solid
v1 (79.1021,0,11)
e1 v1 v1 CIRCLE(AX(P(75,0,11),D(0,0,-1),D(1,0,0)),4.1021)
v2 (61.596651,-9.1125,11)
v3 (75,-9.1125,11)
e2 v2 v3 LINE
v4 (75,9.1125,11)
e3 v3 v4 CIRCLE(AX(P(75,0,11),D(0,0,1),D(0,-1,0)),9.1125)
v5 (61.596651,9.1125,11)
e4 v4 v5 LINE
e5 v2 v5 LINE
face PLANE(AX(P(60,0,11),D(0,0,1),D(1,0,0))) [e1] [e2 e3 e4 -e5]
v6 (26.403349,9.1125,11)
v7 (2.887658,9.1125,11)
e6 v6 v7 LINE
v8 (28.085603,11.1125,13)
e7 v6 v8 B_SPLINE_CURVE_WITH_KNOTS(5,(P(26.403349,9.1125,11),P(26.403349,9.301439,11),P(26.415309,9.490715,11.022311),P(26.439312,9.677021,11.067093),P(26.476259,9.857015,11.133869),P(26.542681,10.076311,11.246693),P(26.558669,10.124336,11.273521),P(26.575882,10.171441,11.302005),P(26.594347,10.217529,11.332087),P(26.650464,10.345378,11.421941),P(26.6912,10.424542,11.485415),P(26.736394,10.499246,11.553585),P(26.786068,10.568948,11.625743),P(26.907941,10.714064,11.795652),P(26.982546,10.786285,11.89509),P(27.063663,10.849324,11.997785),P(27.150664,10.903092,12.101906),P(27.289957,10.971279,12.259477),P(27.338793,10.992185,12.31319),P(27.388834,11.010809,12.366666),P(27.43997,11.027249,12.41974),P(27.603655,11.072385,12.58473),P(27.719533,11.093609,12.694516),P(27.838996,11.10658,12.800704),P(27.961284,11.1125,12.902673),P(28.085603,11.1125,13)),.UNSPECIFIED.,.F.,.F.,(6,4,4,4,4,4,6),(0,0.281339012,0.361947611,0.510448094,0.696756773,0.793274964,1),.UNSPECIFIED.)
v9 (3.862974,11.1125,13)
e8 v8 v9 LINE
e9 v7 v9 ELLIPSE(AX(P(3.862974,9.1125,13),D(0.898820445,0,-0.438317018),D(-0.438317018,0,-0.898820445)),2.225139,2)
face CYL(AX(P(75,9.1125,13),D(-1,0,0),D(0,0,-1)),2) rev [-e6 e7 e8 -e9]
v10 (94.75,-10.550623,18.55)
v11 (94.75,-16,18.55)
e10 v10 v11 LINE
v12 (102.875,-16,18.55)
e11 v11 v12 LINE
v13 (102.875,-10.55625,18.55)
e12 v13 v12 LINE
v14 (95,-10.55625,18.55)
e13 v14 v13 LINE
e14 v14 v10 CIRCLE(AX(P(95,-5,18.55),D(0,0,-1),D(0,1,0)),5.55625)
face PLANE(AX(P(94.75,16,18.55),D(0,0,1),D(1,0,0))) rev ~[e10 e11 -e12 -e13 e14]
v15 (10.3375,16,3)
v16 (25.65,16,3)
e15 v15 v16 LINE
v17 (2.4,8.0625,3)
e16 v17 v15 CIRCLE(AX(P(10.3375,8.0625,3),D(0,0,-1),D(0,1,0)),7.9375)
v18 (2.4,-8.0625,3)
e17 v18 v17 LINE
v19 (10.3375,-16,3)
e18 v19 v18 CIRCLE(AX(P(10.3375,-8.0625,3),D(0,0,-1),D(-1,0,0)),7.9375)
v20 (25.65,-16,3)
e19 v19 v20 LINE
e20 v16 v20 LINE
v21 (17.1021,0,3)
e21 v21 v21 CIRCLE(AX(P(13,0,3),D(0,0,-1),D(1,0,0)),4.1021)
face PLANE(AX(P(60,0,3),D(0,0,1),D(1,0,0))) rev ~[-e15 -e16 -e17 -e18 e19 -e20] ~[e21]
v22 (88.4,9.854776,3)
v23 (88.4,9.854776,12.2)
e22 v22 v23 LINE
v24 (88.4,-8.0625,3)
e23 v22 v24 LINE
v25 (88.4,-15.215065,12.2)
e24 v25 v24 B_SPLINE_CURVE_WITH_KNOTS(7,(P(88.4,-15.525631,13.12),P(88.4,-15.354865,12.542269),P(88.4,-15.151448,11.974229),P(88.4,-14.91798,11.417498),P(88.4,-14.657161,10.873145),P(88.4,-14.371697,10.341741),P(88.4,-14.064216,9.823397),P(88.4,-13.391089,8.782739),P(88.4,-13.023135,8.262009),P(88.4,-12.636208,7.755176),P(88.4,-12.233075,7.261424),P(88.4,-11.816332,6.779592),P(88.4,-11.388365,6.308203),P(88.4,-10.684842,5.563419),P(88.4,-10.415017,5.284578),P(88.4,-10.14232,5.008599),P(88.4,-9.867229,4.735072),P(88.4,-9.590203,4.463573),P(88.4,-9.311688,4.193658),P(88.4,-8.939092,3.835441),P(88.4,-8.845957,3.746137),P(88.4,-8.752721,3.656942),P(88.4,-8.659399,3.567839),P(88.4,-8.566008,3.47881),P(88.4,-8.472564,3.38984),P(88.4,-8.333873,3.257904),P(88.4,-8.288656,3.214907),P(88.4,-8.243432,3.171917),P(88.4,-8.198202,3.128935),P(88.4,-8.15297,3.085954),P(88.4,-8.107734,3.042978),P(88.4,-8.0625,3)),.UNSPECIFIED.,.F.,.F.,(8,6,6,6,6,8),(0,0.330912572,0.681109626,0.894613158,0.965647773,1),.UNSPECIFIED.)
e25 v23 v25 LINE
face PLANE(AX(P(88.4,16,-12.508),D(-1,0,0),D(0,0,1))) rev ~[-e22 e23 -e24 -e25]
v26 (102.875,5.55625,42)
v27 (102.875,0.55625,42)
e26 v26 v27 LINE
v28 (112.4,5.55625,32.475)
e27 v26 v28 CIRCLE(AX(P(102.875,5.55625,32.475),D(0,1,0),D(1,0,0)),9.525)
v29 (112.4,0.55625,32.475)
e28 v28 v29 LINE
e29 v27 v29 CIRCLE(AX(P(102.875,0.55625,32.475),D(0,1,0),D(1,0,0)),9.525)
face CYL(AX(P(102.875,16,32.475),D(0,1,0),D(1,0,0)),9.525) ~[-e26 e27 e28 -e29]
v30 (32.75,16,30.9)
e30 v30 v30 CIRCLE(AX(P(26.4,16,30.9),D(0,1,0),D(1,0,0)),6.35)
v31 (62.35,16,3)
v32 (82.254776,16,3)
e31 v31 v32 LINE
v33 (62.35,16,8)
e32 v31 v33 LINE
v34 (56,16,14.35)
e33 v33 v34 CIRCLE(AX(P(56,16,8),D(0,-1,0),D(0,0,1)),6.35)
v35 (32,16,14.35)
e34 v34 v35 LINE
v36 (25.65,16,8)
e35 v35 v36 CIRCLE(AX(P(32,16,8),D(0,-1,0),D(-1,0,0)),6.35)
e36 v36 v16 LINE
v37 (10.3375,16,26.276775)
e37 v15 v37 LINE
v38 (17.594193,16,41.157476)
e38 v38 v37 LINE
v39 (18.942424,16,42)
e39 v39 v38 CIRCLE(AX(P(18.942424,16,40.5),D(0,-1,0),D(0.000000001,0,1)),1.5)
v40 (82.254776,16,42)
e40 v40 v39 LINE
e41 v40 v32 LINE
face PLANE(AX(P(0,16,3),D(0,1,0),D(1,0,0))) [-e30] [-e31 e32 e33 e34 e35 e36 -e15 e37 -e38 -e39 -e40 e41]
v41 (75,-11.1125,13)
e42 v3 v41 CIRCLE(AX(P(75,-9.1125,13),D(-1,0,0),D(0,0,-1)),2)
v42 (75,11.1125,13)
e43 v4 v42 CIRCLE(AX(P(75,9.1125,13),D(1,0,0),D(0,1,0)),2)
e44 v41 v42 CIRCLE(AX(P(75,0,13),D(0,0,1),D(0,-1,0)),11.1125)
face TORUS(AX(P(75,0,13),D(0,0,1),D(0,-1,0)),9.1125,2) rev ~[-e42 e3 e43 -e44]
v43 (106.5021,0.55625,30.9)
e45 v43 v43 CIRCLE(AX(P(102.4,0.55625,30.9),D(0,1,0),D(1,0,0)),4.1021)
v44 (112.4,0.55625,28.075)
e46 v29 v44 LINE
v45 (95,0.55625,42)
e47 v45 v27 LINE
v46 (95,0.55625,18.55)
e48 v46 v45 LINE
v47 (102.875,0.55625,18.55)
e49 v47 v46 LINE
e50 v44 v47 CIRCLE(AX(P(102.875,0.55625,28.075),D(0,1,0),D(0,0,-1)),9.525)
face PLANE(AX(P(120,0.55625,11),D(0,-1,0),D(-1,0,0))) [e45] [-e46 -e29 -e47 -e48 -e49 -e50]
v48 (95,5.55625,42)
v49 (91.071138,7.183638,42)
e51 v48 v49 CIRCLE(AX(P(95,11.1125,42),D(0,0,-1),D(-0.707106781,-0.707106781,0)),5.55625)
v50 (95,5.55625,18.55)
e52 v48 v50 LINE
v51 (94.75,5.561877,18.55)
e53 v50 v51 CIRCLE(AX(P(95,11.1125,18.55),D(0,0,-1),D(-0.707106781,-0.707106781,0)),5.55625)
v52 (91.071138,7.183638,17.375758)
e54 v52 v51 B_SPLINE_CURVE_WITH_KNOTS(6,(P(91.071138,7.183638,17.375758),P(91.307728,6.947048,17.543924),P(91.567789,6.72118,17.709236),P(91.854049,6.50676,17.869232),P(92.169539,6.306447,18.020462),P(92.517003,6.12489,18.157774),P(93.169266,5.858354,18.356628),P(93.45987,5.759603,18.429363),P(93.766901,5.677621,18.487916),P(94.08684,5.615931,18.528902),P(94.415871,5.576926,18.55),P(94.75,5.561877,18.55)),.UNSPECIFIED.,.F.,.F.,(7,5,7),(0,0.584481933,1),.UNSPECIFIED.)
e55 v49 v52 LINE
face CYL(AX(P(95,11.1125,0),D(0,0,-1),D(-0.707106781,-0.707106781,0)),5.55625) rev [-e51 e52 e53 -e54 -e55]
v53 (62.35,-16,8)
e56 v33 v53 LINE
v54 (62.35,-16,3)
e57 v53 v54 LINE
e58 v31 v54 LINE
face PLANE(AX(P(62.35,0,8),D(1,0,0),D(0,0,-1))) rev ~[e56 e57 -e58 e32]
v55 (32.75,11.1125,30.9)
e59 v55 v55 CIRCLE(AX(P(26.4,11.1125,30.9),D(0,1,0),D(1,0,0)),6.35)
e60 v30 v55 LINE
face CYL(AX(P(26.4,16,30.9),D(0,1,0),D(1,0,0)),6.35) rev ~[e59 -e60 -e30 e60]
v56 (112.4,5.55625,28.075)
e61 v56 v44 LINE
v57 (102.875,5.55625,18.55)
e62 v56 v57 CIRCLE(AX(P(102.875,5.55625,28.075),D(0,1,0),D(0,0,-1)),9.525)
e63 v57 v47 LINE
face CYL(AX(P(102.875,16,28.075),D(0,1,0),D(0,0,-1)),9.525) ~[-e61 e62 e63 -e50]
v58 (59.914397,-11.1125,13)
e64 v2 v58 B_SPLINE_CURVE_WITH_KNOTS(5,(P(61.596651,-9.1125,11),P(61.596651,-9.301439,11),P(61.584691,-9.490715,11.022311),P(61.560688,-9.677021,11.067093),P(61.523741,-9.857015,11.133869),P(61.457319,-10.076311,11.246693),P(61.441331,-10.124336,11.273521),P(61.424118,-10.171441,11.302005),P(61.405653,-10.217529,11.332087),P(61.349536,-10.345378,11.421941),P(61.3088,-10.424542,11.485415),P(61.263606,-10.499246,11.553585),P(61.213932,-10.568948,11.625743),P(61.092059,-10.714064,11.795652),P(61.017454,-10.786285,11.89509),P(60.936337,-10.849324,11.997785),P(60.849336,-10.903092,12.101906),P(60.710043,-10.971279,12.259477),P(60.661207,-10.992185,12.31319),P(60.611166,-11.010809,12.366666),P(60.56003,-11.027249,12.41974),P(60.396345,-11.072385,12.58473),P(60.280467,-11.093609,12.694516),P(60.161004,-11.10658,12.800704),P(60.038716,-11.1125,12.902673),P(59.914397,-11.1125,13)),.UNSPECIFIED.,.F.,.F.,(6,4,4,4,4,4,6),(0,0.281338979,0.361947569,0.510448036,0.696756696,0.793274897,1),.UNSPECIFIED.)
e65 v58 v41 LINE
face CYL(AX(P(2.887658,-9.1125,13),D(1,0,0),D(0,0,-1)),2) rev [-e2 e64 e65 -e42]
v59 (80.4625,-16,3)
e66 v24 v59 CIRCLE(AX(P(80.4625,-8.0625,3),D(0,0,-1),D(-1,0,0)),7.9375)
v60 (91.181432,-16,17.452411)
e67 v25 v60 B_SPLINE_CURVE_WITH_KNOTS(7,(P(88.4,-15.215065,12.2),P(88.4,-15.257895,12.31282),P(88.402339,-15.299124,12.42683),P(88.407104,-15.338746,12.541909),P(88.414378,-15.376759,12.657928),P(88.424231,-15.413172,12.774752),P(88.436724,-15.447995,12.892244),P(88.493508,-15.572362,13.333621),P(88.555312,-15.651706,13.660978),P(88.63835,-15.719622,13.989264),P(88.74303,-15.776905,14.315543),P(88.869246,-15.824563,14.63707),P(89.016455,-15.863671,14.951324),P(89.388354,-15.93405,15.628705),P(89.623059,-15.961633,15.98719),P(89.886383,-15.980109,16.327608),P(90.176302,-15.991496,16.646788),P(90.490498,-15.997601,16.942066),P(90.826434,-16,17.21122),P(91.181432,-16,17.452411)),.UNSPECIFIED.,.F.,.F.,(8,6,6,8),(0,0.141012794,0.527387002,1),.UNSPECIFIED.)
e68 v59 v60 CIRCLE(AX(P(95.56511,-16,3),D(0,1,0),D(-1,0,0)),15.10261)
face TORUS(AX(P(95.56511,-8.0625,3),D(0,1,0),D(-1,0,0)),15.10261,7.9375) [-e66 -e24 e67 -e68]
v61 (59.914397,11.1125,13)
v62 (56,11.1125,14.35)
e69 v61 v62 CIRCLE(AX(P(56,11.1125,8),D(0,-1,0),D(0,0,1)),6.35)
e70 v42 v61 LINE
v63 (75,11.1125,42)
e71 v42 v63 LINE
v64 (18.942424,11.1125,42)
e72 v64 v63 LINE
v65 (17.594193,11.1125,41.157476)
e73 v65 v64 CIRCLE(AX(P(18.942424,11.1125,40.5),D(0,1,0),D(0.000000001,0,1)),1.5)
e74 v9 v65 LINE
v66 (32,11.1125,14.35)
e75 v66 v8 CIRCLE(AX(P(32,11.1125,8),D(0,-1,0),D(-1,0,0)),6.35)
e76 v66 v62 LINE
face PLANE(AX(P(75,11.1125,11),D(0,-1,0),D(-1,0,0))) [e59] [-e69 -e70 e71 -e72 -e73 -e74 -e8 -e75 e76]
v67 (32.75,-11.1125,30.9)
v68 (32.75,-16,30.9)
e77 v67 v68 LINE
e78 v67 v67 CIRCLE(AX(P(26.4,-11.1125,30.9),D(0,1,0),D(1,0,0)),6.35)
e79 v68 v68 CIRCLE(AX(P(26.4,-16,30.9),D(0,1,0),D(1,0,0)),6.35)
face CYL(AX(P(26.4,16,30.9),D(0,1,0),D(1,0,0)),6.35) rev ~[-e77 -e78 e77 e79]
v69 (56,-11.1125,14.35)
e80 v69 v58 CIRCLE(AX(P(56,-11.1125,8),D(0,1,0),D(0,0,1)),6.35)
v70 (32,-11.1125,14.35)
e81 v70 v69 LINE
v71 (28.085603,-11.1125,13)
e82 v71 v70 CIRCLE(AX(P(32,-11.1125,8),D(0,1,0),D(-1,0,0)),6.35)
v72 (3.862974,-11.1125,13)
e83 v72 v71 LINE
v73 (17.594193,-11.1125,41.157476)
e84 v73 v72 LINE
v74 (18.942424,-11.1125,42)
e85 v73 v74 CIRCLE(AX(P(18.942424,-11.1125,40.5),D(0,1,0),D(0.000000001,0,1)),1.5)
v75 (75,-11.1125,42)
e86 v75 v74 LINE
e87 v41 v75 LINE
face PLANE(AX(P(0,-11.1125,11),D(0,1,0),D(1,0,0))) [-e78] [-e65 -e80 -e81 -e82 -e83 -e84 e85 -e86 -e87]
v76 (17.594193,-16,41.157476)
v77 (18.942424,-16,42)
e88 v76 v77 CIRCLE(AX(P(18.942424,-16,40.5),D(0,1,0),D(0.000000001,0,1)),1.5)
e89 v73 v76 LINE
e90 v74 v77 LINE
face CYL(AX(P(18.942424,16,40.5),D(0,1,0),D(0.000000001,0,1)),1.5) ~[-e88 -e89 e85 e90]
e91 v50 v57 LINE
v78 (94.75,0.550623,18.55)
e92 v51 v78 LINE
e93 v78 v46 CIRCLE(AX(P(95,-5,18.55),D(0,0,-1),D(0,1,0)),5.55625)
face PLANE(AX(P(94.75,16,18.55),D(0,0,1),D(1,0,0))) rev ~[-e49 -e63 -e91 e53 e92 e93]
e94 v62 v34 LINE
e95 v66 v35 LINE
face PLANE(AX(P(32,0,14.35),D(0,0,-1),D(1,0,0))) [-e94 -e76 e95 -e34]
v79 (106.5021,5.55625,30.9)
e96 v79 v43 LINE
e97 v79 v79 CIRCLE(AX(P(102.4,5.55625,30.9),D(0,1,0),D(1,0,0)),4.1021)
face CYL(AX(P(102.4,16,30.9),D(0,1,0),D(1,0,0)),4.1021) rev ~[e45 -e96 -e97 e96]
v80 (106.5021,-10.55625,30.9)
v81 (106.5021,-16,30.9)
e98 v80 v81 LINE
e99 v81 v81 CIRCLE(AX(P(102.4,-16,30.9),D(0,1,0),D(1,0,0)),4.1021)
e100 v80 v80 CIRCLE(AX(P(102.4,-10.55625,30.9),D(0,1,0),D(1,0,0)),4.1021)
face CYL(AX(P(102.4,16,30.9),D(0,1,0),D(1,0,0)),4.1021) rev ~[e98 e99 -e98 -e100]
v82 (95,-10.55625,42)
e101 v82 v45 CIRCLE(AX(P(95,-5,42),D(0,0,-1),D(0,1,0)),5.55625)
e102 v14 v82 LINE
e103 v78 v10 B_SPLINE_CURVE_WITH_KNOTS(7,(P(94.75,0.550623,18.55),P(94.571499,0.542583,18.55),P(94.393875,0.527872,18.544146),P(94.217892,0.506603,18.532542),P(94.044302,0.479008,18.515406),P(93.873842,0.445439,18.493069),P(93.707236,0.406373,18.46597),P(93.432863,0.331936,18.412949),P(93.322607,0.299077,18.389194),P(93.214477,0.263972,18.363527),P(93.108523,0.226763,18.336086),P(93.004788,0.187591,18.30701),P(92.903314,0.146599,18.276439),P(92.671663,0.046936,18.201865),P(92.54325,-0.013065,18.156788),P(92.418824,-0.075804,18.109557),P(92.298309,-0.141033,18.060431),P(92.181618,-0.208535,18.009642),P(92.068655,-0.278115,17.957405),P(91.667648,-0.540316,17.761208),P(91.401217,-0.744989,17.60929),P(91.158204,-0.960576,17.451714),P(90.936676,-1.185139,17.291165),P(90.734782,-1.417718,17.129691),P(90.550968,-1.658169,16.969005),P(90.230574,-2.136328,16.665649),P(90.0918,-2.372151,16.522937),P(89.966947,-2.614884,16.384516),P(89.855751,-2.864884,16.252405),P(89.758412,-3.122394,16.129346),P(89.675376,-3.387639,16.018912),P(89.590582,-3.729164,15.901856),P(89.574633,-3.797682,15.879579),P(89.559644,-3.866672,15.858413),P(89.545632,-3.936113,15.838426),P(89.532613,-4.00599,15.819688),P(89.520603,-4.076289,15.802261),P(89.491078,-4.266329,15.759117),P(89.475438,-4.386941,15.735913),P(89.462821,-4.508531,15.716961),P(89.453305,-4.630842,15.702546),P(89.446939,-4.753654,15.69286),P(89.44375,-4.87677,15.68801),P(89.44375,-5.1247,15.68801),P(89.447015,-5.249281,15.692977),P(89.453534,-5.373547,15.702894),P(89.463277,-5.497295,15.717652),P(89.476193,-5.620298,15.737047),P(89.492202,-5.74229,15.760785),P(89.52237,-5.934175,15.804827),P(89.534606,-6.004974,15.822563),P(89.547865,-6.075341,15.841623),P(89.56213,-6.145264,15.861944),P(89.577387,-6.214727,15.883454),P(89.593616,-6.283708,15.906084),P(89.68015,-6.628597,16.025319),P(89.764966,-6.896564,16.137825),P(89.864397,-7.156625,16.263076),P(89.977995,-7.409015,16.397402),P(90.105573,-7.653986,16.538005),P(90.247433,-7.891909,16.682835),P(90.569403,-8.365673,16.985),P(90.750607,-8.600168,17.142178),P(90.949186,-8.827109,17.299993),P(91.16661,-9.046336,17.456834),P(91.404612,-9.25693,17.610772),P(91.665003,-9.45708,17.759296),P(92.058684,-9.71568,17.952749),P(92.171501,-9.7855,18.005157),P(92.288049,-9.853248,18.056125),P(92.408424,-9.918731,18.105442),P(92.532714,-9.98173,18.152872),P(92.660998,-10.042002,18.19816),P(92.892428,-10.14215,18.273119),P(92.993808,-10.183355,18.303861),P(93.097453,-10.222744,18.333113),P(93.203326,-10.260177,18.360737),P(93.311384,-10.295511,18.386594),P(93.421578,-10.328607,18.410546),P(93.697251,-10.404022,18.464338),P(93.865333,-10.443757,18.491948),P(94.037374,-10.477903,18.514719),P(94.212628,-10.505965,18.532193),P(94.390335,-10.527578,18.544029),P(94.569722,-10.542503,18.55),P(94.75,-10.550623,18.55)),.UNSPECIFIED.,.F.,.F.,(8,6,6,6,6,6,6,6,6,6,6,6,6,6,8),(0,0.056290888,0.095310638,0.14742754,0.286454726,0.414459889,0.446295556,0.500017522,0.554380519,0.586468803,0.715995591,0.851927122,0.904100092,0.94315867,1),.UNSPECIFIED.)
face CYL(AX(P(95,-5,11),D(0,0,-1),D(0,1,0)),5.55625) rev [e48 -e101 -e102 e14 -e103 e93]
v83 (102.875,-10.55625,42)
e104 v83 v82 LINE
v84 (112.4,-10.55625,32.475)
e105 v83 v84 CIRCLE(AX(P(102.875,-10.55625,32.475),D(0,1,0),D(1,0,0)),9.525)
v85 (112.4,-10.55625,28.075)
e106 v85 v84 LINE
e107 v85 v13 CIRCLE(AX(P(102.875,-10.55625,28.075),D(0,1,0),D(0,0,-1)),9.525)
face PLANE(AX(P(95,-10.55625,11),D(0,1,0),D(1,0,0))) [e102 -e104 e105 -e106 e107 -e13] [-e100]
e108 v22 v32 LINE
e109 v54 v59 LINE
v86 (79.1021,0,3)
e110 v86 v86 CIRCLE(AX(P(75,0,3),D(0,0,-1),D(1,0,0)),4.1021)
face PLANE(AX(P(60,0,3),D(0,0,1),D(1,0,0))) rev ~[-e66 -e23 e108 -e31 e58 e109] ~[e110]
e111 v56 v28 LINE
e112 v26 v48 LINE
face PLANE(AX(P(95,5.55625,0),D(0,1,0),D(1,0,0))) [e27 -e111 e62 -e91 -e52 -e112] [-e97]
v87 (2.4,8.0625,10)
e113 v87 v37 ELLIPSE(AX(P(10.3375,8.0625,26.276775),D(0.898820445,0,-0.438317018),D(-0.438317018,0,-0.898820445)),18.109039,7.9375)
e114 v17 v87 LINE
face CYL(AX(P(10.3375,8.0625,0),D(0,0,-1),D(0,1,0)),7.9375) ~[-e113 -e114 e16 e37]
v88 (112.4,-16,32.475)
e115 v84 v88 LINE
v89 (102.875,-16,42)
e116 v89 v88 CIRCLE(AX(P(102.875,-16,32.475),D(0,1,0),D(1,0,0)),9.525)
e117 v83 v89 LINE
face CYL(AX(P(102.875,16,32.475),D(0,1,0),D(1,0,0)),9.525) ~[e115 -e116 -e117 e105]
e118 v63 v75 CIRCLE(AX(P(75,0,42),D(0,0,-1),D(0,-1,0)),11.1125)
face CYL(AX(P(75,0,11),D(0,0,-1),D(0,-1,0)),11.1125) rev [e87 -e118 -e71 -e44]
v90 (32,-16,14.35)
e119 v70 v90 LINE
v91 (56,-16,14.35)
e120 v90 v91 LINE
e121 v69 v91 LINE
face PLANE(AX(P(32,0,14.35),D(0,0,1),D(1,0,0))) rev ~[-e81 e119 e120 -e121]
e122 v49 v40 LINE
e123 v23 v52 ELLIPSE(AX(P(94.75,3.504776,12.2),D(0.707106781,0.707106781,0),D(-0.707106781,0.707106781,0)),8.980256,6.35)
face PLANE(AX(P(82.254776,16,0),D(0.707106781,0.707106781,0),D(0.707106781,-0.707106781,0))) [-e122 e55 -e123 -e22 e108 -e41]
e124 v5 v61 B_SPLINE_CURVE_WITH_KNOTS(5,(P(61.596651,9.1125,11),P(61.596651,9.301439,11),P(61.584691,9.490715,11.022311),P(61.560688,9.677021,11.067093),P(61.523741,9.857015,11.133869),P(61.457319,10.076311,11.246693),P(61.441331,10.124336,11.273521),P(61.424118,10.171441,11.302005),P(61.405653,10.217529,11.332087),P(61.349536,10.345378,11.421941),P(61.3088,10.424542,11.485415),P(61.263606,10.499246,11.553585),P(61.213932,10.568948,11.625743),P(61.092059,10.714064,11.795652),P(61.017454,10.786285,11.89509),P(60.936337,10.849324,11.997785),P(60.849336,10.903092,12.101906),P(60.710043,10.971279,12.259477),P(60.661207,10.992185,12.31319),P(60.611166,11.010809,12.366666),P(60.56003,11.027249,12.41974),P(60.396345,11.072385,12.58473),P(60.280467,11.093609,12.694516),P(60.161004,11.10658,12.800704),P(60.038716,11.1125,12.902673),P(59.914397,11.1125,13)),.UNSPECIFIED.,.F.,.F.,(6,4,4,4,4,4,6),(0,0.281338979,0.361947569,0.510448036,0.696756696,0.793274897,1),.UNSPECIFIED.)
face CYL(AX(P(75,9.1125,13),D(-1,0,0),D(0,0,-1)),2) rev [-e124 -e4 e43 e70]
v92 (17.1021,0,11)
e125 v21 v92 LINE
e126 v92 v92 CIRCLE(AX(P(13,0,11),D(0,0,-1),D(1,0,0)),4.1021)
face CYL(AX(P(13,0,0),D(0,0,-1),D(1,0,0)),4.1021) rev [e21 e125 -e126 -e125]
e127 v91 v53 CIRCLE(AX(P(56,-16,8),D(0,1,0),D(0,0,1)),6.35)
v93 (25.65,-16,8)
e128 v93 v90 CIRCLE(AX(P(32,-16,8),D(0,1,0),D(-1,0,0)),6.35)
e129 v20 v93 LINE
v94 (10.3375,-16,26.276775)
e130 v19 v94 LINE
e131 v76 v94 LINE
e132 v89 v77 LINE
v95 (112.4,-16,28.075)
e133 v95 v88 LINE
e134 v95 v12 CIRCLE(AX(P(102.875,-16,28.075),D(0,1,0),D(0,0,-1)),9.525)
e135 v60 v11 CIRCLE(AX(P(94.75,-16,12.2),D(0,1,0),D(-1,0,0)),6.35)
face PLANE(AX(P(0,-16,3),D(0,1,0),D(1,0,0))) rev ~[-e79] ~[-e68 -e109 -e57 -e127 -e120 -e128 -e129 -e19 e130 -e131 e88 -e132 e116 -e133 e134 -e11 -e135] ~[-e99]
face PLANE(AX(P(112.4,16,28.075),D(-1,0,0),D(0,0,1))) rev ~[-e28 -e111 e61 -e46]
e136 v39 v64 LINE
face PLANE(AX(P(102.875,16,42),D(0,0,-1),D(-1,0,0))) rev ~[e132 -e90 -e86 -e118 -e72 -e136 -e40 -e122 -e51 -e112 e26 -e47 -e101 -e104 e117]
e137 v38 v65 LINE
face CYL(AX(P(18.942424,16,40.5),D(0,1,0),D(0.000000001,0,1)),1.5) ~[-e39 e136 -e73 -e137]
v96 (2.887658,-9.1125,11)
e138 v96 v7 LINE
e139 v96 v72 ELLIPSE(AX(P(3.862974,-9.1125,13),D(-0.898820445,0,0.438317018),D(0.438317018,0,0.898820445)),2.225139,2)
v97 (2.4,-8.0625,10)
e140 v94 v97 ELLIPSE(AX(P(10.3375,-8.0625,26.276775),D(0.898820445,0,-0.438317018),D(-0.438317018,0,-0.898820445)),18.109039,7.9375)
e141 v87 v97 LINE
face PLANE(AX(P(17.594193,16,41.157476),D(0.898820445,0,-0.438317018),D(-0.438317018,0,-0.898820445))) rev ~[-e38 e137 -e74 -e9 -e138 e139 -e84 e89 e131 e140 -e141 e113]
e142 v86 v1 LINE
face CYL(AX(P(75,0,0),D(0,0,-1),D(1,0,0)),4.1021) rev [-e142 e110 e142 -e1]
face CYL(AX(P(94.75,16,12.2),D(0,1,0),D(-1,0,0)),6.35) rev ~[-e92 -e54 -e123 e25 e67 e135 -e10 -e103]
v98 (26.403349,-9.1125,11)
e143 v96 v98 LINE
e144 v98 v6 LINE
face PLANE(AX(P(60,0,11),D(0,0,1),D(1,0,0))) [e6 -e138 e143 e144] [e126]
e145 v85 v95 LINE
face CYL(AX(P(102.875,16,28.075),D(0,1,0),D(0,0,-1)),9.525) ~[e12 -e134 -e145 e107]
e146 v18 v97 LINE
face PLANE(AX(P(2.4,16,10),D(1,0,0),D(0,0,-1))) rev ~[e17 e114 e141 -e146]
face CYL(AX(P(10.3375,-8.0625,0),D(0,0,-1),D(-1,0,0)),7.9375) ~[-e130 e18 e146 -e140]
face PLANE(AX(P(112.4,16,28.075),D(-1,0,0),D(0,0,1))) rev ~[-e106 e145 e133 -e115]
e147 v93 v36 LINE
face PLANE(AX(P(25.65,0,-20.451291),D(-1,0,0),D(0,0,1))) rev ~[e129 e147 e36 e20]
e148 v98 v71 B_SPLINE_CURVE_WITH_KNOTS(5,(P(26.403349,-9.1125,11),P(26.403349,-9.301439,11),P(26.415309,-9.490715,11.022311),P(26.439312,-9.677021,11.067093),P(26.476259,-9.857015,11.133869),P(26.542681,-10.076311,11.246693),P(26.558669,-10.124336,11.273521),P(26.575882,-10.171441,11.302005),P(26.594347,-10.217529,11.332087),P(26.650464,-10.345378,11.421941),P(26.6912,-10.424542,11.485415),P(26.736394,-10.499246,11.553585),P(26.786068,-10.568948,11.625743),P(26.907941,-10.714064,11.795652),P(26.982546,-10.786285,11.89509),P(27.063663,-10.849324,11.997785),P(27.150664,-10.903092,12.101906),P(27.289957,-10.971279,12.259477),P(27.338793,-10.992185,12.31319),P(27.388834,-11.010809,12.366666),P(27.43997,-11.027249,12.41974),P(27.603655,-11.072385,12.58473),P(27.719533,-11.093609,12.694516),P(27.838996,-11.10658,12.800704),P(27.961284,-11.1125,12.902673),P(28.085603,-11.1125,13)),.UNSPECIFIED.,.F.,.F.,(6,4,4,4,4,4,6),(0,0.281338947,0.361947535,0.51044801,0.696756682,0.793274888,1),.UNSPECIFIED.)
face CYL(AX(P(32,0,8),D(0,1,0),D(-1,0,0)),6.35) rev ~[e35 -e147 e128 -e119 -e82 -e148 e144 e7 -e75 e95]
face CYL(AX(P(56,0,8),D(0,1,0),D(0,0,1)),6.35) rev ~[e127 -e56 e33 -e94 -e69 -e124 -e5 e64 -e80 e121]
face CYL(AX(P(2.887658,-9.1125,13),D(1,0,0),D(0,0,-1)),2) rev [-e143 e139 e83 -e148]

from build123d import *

# Parameters (mm, degrees)
SKETCH1_W               = 120
SKETCH1_H               = 32
EXTRUDE1_DEPTH          = 75
CUT_EXTRUDE4_START      = 8
SKETCH2_OUTSIDE_W       = 151.016
SKETCH2_OUTSIDE_H       = 63.016
CUT_EXTRUDE4_DEPTH      = 68
EXTRUDE7_DEPTH          = 36.5252
SKETCH6_R               = 6.35
SKETCH6_R_2             = 4.1021
EXTRUDE4_DEPTH          = 33
SKETCH8_OUTSIDE_W       = 151.016
SKETCH8_OUTSIDE_H       = 106.016
EXTRUDE8_DEPTH          = 33
SKETCH9_R               = 4.1021
CUT_EXTRUDE1_DEPTH      = 43.0000001
FILLET6_R               = 2
CUT_EXTRUDE2_DEPTH      = 17
CUT_EXTRUDE2_DEPTH_BACK = 17.0000001
SKETCH16_OUTSIDE_W      = 136.204
SKETCH16_OUTSIDE_H      = 58.204
CUT_EXTRUDE7_DEPTH      = 43.0000001


with BuildPart() as part:
    # Sketch1 → Extrude1 (new body)
    with BuildSketch(Plane.XY.offset(3)):
        with Locations((60, 0)):
            Rectangle(SKETCH1_W, SKETCH1_H)
    extrude(amount=EXTRUDE1_DEPTH)

    # Sketch2 outside → Cut-Extrude4 (cut, through all)
    with BuildSketch(Plane.XY.offset(3).offset(CUT_EXTRUDE4_START)):
        with Locations((60, 0)):
            Rectangle(SKETCH2_OUTSIDE_W, SKETCH2_OUTSIDE_H)
        with BuildLine():
            Line((0, 16), (82.254775894, 16))
            Line((82.254775894, 16), (91.071137947, 7.183637947))
            ThreePointArc((91.071137947, 7.183637947), (92.873715179, 5.979194347), (95, 5.55625))
            Line((95, 5.55625), (120, 5.55625))
            Line((120, 5.55625), (120, 0.55625))
            Line((120, 0.55625), (95, 0.55625))
            ThreePointArc((95, 0.55625), (89.44375, -5), (95, -10.55625))
            Line((95, -10.55625), (120, -10.55625))
            Line((120, -10.55625), (120, -16))
            Line((120, -16), (0, -16))
            Line((0, -16), (0, -11.1125))
            Line((0, -11.1125), (75, -11.1125))
            ThreePointArc((75, -11.1125), (86.1125, 0), (75, 11.1125))
            Line((75, 11.1125), (0, 11.1125))
            Line((0, 11.1125), (0, 16))
        make_face(mode=Mode.SUBTRACT)
    extrude(amount=CUT_EXTRUDE4_DEPTH, mode=Mode.SUBTRACT)

    # Sketch7 → Extrude7 (cut)
    with BuildSketch(Plane.XY):
        with BuildLine():
            Line((95, 5.55625), (120, 5.55625))
            Line((120, 5.55625), (133.084512724, 5.55625))
            Line((133.084512724, 5.55625), (133.084512724, 22.23007271))
            Line((133.084512724, 22.23007271), (82.254775894, 22.23007271))
            Line((82.254775894, 22.23007271), (82.254775894, 16))
            Line((82.254775894, 16), (91.071137947, 7.183637947))
            ThreePointArc((91.071137947, 7.183637947), (92.873715179, 5.979194347), (95, 5.55625))
        make_face()
    extrude(amount=EXTRUDE7_DEPTH, mode=Mode.SUBTRACT)

    # Sketch6 → Extrude4 (cut, through all)
    with BuildSketch(Plane(origin=(0, 16, 0), x_dir=(1, 0, 0), z_dir=(0, 1, 0))):
        with Locations((26.4, -30.9)):
            Circle(SKETCH6_R)
        with Locations((102.4, -30.9)):
            Circle(SKETCH6_R_2)
    extrude(amount=-EXTRUDE4_DEPTH, mode=Mode.SUBTRACT)

    # Sketch8 outside → Extrude8 (cut, through all)
    with BuildSketch(Plane(origin=(0, 16, 0), x_dir=(1, 0, 0), z_dir=(0, 1, 0))):
        with Locations((60, -40.5)):
            Rectangle(SKETCH8_OUTSIDE_W, SKETCH8_OUTSIDE_H)
        with BuildLine():
            Line((17.594193491, -41.157475527), (2.4, -10))
            Line((2.4, -10), (2.4, 17.886579673))
            Line((2.4, 17.886579673), (88.4, 17.886579673))
            Line((88.4, 17.886579673), (88.4, -12.2))
            ThreePointArc((88.4, -12.2), (90.259871939, -16.690128061), (94.75, -18.55))
            Line((94.75, -18.55), (102.875, -18.55))
            ThreePointArc((102.875, -18.55), (109.610192091, -21.339807909), (112.4, -28.075))
            Line((112.4, -28.075), (112.4, -32.475))
            ThreePointArc((112.4, -32.475), (109.610192091, -39.210192091), (102.875, -42))
            Line((102.875, -42), (18.942424158, -42))
            ThreePointArc((18.942424158, -42), (18.147506958, -41.772048209), (17.594193491, -41.157475527))
        make_face(mode=Mode.SUBTRACT)
    extrude(amount=-EXTRUDE8_DEPTH, mode=Mode.SUBTRACT)

    # Sketch9 → Cut-Extrude1 (cut, through all)
    with BuildSketch(Plane.XY):
        with Locations((13, 0)):
            Circle(SKETCH9_R)
        with Locations((75, 0)):
            Circle(SKETCH9_R)
    extrude(amount=CUT_EXTRUDE1_DEPTH, mode=Mode.SUBTRACT)

    # Fillet6
    fillet6_edges = [part.edges().sort_by_distance(p)[0] for p in [
        (38.943829021, 11.1125, 11),
        (86.1125, 0, 11),
        (38.943829021, -11.1125, 11),
    ]]
    fillet(fillet6_edges, radius=FILLET6_R)

    # Sketch10 → Cut-Extrude2 (cut, two sides)
    with BuildSketch(Plane(origin=(0, 0, 0), x_dir=(1, 0, 0), z_dir=(0, 1, 0))) as cut_extrude2_sk:
        with BuildLine():
            Line((32, -14.35), (56, -14.35))
            ThreePointArc((56, -14.35), (60.490128061, -12.490128061), (62.35, -8))
            Line((62.35, -8), (62.35, 20.451290564))
            Line((62.35, 20.451290564), (25.65, 20.451290564))
            Line((25.65, 20.451290564), (25.65, -8))
            ThreePointArc((25.65, -8), (27.509871939, -12.490128061), (32, -14.35))
        make_face()
    extrude(amount=CUT_EXTRUDE2_DEPTH, mode=Mode.SUBTRACT)
    extrude(cut_extrude2_sk.sketch, amount=-CUT_EXTRUDE2_DEPTH_BACK, mode=Mode.SUBTRACT)

    # Sketch16 outside → Cut-Extrude7 (cut, through all)
    with BuildSketch(Plane.XY):
        with Locations((57.4, 0)):
            Rectangle(SKETCH16_OUTSIDE_W, SKETCH16_OUTSIDE_H)
        with BuildLine():
            Line((2.4, 8.0625), (2.4, -8.0625))
            ThreePointArc((2.4, -8.0625), (4.724839924, -13.675160076), (10.3375, -16))
            Line((10.3375, -16), (122.688337856, -16))
            Line((122.688337856, -16), (122.688337856, 16))
            Line((122.688337856, 16), (10.3375, 16))
            ThreePointArc((10.3375, 16), (4.724839924, 13.675160076), (2.4, 8.0625))
        make_face(mode=Mode.SUBTRACT)
    extrude(amount=CUT_EXTRUDE7_DEPTH, mode=Mode.SUBTRACT)

    # Cut-Sweep1: sweep along a path in Sketch19
    with BuildLine(Plane.XZ.offset(16)) as cut_sweep1_path:
        ThreePointArc((88.4, 3), (90.498611985, 8.066497517), (95.565109502, 10.165109502))
    # Sketch17 → Cut-Sweep1 (sweep, cut)
    with BuildSketch(Plane(origin=(0, 0, 3), x_dir=(-1, 0, 0), z_dir=(0, 0, -1))):
        with BuildLine():
            Line((-80.4625, -16), (-80.4625, -23.337063984))
            Line((-80.4625, -23.337063984), (-92.369, -23.337063984))
            Line((-92.369, -23.337063984), (-92.369, -8.0625))
            Line((-92.369, -8.0625), (-88.4, -8.0625))
            ThreePointArc((-88.4, -8.0625), (-86.075160076, -13.675160076), (-80.4625, -16))
        make_face()
    sweep(path=cut_sweep1_path.line, mode=Mode.SUBTRACT)


solid = part.part
